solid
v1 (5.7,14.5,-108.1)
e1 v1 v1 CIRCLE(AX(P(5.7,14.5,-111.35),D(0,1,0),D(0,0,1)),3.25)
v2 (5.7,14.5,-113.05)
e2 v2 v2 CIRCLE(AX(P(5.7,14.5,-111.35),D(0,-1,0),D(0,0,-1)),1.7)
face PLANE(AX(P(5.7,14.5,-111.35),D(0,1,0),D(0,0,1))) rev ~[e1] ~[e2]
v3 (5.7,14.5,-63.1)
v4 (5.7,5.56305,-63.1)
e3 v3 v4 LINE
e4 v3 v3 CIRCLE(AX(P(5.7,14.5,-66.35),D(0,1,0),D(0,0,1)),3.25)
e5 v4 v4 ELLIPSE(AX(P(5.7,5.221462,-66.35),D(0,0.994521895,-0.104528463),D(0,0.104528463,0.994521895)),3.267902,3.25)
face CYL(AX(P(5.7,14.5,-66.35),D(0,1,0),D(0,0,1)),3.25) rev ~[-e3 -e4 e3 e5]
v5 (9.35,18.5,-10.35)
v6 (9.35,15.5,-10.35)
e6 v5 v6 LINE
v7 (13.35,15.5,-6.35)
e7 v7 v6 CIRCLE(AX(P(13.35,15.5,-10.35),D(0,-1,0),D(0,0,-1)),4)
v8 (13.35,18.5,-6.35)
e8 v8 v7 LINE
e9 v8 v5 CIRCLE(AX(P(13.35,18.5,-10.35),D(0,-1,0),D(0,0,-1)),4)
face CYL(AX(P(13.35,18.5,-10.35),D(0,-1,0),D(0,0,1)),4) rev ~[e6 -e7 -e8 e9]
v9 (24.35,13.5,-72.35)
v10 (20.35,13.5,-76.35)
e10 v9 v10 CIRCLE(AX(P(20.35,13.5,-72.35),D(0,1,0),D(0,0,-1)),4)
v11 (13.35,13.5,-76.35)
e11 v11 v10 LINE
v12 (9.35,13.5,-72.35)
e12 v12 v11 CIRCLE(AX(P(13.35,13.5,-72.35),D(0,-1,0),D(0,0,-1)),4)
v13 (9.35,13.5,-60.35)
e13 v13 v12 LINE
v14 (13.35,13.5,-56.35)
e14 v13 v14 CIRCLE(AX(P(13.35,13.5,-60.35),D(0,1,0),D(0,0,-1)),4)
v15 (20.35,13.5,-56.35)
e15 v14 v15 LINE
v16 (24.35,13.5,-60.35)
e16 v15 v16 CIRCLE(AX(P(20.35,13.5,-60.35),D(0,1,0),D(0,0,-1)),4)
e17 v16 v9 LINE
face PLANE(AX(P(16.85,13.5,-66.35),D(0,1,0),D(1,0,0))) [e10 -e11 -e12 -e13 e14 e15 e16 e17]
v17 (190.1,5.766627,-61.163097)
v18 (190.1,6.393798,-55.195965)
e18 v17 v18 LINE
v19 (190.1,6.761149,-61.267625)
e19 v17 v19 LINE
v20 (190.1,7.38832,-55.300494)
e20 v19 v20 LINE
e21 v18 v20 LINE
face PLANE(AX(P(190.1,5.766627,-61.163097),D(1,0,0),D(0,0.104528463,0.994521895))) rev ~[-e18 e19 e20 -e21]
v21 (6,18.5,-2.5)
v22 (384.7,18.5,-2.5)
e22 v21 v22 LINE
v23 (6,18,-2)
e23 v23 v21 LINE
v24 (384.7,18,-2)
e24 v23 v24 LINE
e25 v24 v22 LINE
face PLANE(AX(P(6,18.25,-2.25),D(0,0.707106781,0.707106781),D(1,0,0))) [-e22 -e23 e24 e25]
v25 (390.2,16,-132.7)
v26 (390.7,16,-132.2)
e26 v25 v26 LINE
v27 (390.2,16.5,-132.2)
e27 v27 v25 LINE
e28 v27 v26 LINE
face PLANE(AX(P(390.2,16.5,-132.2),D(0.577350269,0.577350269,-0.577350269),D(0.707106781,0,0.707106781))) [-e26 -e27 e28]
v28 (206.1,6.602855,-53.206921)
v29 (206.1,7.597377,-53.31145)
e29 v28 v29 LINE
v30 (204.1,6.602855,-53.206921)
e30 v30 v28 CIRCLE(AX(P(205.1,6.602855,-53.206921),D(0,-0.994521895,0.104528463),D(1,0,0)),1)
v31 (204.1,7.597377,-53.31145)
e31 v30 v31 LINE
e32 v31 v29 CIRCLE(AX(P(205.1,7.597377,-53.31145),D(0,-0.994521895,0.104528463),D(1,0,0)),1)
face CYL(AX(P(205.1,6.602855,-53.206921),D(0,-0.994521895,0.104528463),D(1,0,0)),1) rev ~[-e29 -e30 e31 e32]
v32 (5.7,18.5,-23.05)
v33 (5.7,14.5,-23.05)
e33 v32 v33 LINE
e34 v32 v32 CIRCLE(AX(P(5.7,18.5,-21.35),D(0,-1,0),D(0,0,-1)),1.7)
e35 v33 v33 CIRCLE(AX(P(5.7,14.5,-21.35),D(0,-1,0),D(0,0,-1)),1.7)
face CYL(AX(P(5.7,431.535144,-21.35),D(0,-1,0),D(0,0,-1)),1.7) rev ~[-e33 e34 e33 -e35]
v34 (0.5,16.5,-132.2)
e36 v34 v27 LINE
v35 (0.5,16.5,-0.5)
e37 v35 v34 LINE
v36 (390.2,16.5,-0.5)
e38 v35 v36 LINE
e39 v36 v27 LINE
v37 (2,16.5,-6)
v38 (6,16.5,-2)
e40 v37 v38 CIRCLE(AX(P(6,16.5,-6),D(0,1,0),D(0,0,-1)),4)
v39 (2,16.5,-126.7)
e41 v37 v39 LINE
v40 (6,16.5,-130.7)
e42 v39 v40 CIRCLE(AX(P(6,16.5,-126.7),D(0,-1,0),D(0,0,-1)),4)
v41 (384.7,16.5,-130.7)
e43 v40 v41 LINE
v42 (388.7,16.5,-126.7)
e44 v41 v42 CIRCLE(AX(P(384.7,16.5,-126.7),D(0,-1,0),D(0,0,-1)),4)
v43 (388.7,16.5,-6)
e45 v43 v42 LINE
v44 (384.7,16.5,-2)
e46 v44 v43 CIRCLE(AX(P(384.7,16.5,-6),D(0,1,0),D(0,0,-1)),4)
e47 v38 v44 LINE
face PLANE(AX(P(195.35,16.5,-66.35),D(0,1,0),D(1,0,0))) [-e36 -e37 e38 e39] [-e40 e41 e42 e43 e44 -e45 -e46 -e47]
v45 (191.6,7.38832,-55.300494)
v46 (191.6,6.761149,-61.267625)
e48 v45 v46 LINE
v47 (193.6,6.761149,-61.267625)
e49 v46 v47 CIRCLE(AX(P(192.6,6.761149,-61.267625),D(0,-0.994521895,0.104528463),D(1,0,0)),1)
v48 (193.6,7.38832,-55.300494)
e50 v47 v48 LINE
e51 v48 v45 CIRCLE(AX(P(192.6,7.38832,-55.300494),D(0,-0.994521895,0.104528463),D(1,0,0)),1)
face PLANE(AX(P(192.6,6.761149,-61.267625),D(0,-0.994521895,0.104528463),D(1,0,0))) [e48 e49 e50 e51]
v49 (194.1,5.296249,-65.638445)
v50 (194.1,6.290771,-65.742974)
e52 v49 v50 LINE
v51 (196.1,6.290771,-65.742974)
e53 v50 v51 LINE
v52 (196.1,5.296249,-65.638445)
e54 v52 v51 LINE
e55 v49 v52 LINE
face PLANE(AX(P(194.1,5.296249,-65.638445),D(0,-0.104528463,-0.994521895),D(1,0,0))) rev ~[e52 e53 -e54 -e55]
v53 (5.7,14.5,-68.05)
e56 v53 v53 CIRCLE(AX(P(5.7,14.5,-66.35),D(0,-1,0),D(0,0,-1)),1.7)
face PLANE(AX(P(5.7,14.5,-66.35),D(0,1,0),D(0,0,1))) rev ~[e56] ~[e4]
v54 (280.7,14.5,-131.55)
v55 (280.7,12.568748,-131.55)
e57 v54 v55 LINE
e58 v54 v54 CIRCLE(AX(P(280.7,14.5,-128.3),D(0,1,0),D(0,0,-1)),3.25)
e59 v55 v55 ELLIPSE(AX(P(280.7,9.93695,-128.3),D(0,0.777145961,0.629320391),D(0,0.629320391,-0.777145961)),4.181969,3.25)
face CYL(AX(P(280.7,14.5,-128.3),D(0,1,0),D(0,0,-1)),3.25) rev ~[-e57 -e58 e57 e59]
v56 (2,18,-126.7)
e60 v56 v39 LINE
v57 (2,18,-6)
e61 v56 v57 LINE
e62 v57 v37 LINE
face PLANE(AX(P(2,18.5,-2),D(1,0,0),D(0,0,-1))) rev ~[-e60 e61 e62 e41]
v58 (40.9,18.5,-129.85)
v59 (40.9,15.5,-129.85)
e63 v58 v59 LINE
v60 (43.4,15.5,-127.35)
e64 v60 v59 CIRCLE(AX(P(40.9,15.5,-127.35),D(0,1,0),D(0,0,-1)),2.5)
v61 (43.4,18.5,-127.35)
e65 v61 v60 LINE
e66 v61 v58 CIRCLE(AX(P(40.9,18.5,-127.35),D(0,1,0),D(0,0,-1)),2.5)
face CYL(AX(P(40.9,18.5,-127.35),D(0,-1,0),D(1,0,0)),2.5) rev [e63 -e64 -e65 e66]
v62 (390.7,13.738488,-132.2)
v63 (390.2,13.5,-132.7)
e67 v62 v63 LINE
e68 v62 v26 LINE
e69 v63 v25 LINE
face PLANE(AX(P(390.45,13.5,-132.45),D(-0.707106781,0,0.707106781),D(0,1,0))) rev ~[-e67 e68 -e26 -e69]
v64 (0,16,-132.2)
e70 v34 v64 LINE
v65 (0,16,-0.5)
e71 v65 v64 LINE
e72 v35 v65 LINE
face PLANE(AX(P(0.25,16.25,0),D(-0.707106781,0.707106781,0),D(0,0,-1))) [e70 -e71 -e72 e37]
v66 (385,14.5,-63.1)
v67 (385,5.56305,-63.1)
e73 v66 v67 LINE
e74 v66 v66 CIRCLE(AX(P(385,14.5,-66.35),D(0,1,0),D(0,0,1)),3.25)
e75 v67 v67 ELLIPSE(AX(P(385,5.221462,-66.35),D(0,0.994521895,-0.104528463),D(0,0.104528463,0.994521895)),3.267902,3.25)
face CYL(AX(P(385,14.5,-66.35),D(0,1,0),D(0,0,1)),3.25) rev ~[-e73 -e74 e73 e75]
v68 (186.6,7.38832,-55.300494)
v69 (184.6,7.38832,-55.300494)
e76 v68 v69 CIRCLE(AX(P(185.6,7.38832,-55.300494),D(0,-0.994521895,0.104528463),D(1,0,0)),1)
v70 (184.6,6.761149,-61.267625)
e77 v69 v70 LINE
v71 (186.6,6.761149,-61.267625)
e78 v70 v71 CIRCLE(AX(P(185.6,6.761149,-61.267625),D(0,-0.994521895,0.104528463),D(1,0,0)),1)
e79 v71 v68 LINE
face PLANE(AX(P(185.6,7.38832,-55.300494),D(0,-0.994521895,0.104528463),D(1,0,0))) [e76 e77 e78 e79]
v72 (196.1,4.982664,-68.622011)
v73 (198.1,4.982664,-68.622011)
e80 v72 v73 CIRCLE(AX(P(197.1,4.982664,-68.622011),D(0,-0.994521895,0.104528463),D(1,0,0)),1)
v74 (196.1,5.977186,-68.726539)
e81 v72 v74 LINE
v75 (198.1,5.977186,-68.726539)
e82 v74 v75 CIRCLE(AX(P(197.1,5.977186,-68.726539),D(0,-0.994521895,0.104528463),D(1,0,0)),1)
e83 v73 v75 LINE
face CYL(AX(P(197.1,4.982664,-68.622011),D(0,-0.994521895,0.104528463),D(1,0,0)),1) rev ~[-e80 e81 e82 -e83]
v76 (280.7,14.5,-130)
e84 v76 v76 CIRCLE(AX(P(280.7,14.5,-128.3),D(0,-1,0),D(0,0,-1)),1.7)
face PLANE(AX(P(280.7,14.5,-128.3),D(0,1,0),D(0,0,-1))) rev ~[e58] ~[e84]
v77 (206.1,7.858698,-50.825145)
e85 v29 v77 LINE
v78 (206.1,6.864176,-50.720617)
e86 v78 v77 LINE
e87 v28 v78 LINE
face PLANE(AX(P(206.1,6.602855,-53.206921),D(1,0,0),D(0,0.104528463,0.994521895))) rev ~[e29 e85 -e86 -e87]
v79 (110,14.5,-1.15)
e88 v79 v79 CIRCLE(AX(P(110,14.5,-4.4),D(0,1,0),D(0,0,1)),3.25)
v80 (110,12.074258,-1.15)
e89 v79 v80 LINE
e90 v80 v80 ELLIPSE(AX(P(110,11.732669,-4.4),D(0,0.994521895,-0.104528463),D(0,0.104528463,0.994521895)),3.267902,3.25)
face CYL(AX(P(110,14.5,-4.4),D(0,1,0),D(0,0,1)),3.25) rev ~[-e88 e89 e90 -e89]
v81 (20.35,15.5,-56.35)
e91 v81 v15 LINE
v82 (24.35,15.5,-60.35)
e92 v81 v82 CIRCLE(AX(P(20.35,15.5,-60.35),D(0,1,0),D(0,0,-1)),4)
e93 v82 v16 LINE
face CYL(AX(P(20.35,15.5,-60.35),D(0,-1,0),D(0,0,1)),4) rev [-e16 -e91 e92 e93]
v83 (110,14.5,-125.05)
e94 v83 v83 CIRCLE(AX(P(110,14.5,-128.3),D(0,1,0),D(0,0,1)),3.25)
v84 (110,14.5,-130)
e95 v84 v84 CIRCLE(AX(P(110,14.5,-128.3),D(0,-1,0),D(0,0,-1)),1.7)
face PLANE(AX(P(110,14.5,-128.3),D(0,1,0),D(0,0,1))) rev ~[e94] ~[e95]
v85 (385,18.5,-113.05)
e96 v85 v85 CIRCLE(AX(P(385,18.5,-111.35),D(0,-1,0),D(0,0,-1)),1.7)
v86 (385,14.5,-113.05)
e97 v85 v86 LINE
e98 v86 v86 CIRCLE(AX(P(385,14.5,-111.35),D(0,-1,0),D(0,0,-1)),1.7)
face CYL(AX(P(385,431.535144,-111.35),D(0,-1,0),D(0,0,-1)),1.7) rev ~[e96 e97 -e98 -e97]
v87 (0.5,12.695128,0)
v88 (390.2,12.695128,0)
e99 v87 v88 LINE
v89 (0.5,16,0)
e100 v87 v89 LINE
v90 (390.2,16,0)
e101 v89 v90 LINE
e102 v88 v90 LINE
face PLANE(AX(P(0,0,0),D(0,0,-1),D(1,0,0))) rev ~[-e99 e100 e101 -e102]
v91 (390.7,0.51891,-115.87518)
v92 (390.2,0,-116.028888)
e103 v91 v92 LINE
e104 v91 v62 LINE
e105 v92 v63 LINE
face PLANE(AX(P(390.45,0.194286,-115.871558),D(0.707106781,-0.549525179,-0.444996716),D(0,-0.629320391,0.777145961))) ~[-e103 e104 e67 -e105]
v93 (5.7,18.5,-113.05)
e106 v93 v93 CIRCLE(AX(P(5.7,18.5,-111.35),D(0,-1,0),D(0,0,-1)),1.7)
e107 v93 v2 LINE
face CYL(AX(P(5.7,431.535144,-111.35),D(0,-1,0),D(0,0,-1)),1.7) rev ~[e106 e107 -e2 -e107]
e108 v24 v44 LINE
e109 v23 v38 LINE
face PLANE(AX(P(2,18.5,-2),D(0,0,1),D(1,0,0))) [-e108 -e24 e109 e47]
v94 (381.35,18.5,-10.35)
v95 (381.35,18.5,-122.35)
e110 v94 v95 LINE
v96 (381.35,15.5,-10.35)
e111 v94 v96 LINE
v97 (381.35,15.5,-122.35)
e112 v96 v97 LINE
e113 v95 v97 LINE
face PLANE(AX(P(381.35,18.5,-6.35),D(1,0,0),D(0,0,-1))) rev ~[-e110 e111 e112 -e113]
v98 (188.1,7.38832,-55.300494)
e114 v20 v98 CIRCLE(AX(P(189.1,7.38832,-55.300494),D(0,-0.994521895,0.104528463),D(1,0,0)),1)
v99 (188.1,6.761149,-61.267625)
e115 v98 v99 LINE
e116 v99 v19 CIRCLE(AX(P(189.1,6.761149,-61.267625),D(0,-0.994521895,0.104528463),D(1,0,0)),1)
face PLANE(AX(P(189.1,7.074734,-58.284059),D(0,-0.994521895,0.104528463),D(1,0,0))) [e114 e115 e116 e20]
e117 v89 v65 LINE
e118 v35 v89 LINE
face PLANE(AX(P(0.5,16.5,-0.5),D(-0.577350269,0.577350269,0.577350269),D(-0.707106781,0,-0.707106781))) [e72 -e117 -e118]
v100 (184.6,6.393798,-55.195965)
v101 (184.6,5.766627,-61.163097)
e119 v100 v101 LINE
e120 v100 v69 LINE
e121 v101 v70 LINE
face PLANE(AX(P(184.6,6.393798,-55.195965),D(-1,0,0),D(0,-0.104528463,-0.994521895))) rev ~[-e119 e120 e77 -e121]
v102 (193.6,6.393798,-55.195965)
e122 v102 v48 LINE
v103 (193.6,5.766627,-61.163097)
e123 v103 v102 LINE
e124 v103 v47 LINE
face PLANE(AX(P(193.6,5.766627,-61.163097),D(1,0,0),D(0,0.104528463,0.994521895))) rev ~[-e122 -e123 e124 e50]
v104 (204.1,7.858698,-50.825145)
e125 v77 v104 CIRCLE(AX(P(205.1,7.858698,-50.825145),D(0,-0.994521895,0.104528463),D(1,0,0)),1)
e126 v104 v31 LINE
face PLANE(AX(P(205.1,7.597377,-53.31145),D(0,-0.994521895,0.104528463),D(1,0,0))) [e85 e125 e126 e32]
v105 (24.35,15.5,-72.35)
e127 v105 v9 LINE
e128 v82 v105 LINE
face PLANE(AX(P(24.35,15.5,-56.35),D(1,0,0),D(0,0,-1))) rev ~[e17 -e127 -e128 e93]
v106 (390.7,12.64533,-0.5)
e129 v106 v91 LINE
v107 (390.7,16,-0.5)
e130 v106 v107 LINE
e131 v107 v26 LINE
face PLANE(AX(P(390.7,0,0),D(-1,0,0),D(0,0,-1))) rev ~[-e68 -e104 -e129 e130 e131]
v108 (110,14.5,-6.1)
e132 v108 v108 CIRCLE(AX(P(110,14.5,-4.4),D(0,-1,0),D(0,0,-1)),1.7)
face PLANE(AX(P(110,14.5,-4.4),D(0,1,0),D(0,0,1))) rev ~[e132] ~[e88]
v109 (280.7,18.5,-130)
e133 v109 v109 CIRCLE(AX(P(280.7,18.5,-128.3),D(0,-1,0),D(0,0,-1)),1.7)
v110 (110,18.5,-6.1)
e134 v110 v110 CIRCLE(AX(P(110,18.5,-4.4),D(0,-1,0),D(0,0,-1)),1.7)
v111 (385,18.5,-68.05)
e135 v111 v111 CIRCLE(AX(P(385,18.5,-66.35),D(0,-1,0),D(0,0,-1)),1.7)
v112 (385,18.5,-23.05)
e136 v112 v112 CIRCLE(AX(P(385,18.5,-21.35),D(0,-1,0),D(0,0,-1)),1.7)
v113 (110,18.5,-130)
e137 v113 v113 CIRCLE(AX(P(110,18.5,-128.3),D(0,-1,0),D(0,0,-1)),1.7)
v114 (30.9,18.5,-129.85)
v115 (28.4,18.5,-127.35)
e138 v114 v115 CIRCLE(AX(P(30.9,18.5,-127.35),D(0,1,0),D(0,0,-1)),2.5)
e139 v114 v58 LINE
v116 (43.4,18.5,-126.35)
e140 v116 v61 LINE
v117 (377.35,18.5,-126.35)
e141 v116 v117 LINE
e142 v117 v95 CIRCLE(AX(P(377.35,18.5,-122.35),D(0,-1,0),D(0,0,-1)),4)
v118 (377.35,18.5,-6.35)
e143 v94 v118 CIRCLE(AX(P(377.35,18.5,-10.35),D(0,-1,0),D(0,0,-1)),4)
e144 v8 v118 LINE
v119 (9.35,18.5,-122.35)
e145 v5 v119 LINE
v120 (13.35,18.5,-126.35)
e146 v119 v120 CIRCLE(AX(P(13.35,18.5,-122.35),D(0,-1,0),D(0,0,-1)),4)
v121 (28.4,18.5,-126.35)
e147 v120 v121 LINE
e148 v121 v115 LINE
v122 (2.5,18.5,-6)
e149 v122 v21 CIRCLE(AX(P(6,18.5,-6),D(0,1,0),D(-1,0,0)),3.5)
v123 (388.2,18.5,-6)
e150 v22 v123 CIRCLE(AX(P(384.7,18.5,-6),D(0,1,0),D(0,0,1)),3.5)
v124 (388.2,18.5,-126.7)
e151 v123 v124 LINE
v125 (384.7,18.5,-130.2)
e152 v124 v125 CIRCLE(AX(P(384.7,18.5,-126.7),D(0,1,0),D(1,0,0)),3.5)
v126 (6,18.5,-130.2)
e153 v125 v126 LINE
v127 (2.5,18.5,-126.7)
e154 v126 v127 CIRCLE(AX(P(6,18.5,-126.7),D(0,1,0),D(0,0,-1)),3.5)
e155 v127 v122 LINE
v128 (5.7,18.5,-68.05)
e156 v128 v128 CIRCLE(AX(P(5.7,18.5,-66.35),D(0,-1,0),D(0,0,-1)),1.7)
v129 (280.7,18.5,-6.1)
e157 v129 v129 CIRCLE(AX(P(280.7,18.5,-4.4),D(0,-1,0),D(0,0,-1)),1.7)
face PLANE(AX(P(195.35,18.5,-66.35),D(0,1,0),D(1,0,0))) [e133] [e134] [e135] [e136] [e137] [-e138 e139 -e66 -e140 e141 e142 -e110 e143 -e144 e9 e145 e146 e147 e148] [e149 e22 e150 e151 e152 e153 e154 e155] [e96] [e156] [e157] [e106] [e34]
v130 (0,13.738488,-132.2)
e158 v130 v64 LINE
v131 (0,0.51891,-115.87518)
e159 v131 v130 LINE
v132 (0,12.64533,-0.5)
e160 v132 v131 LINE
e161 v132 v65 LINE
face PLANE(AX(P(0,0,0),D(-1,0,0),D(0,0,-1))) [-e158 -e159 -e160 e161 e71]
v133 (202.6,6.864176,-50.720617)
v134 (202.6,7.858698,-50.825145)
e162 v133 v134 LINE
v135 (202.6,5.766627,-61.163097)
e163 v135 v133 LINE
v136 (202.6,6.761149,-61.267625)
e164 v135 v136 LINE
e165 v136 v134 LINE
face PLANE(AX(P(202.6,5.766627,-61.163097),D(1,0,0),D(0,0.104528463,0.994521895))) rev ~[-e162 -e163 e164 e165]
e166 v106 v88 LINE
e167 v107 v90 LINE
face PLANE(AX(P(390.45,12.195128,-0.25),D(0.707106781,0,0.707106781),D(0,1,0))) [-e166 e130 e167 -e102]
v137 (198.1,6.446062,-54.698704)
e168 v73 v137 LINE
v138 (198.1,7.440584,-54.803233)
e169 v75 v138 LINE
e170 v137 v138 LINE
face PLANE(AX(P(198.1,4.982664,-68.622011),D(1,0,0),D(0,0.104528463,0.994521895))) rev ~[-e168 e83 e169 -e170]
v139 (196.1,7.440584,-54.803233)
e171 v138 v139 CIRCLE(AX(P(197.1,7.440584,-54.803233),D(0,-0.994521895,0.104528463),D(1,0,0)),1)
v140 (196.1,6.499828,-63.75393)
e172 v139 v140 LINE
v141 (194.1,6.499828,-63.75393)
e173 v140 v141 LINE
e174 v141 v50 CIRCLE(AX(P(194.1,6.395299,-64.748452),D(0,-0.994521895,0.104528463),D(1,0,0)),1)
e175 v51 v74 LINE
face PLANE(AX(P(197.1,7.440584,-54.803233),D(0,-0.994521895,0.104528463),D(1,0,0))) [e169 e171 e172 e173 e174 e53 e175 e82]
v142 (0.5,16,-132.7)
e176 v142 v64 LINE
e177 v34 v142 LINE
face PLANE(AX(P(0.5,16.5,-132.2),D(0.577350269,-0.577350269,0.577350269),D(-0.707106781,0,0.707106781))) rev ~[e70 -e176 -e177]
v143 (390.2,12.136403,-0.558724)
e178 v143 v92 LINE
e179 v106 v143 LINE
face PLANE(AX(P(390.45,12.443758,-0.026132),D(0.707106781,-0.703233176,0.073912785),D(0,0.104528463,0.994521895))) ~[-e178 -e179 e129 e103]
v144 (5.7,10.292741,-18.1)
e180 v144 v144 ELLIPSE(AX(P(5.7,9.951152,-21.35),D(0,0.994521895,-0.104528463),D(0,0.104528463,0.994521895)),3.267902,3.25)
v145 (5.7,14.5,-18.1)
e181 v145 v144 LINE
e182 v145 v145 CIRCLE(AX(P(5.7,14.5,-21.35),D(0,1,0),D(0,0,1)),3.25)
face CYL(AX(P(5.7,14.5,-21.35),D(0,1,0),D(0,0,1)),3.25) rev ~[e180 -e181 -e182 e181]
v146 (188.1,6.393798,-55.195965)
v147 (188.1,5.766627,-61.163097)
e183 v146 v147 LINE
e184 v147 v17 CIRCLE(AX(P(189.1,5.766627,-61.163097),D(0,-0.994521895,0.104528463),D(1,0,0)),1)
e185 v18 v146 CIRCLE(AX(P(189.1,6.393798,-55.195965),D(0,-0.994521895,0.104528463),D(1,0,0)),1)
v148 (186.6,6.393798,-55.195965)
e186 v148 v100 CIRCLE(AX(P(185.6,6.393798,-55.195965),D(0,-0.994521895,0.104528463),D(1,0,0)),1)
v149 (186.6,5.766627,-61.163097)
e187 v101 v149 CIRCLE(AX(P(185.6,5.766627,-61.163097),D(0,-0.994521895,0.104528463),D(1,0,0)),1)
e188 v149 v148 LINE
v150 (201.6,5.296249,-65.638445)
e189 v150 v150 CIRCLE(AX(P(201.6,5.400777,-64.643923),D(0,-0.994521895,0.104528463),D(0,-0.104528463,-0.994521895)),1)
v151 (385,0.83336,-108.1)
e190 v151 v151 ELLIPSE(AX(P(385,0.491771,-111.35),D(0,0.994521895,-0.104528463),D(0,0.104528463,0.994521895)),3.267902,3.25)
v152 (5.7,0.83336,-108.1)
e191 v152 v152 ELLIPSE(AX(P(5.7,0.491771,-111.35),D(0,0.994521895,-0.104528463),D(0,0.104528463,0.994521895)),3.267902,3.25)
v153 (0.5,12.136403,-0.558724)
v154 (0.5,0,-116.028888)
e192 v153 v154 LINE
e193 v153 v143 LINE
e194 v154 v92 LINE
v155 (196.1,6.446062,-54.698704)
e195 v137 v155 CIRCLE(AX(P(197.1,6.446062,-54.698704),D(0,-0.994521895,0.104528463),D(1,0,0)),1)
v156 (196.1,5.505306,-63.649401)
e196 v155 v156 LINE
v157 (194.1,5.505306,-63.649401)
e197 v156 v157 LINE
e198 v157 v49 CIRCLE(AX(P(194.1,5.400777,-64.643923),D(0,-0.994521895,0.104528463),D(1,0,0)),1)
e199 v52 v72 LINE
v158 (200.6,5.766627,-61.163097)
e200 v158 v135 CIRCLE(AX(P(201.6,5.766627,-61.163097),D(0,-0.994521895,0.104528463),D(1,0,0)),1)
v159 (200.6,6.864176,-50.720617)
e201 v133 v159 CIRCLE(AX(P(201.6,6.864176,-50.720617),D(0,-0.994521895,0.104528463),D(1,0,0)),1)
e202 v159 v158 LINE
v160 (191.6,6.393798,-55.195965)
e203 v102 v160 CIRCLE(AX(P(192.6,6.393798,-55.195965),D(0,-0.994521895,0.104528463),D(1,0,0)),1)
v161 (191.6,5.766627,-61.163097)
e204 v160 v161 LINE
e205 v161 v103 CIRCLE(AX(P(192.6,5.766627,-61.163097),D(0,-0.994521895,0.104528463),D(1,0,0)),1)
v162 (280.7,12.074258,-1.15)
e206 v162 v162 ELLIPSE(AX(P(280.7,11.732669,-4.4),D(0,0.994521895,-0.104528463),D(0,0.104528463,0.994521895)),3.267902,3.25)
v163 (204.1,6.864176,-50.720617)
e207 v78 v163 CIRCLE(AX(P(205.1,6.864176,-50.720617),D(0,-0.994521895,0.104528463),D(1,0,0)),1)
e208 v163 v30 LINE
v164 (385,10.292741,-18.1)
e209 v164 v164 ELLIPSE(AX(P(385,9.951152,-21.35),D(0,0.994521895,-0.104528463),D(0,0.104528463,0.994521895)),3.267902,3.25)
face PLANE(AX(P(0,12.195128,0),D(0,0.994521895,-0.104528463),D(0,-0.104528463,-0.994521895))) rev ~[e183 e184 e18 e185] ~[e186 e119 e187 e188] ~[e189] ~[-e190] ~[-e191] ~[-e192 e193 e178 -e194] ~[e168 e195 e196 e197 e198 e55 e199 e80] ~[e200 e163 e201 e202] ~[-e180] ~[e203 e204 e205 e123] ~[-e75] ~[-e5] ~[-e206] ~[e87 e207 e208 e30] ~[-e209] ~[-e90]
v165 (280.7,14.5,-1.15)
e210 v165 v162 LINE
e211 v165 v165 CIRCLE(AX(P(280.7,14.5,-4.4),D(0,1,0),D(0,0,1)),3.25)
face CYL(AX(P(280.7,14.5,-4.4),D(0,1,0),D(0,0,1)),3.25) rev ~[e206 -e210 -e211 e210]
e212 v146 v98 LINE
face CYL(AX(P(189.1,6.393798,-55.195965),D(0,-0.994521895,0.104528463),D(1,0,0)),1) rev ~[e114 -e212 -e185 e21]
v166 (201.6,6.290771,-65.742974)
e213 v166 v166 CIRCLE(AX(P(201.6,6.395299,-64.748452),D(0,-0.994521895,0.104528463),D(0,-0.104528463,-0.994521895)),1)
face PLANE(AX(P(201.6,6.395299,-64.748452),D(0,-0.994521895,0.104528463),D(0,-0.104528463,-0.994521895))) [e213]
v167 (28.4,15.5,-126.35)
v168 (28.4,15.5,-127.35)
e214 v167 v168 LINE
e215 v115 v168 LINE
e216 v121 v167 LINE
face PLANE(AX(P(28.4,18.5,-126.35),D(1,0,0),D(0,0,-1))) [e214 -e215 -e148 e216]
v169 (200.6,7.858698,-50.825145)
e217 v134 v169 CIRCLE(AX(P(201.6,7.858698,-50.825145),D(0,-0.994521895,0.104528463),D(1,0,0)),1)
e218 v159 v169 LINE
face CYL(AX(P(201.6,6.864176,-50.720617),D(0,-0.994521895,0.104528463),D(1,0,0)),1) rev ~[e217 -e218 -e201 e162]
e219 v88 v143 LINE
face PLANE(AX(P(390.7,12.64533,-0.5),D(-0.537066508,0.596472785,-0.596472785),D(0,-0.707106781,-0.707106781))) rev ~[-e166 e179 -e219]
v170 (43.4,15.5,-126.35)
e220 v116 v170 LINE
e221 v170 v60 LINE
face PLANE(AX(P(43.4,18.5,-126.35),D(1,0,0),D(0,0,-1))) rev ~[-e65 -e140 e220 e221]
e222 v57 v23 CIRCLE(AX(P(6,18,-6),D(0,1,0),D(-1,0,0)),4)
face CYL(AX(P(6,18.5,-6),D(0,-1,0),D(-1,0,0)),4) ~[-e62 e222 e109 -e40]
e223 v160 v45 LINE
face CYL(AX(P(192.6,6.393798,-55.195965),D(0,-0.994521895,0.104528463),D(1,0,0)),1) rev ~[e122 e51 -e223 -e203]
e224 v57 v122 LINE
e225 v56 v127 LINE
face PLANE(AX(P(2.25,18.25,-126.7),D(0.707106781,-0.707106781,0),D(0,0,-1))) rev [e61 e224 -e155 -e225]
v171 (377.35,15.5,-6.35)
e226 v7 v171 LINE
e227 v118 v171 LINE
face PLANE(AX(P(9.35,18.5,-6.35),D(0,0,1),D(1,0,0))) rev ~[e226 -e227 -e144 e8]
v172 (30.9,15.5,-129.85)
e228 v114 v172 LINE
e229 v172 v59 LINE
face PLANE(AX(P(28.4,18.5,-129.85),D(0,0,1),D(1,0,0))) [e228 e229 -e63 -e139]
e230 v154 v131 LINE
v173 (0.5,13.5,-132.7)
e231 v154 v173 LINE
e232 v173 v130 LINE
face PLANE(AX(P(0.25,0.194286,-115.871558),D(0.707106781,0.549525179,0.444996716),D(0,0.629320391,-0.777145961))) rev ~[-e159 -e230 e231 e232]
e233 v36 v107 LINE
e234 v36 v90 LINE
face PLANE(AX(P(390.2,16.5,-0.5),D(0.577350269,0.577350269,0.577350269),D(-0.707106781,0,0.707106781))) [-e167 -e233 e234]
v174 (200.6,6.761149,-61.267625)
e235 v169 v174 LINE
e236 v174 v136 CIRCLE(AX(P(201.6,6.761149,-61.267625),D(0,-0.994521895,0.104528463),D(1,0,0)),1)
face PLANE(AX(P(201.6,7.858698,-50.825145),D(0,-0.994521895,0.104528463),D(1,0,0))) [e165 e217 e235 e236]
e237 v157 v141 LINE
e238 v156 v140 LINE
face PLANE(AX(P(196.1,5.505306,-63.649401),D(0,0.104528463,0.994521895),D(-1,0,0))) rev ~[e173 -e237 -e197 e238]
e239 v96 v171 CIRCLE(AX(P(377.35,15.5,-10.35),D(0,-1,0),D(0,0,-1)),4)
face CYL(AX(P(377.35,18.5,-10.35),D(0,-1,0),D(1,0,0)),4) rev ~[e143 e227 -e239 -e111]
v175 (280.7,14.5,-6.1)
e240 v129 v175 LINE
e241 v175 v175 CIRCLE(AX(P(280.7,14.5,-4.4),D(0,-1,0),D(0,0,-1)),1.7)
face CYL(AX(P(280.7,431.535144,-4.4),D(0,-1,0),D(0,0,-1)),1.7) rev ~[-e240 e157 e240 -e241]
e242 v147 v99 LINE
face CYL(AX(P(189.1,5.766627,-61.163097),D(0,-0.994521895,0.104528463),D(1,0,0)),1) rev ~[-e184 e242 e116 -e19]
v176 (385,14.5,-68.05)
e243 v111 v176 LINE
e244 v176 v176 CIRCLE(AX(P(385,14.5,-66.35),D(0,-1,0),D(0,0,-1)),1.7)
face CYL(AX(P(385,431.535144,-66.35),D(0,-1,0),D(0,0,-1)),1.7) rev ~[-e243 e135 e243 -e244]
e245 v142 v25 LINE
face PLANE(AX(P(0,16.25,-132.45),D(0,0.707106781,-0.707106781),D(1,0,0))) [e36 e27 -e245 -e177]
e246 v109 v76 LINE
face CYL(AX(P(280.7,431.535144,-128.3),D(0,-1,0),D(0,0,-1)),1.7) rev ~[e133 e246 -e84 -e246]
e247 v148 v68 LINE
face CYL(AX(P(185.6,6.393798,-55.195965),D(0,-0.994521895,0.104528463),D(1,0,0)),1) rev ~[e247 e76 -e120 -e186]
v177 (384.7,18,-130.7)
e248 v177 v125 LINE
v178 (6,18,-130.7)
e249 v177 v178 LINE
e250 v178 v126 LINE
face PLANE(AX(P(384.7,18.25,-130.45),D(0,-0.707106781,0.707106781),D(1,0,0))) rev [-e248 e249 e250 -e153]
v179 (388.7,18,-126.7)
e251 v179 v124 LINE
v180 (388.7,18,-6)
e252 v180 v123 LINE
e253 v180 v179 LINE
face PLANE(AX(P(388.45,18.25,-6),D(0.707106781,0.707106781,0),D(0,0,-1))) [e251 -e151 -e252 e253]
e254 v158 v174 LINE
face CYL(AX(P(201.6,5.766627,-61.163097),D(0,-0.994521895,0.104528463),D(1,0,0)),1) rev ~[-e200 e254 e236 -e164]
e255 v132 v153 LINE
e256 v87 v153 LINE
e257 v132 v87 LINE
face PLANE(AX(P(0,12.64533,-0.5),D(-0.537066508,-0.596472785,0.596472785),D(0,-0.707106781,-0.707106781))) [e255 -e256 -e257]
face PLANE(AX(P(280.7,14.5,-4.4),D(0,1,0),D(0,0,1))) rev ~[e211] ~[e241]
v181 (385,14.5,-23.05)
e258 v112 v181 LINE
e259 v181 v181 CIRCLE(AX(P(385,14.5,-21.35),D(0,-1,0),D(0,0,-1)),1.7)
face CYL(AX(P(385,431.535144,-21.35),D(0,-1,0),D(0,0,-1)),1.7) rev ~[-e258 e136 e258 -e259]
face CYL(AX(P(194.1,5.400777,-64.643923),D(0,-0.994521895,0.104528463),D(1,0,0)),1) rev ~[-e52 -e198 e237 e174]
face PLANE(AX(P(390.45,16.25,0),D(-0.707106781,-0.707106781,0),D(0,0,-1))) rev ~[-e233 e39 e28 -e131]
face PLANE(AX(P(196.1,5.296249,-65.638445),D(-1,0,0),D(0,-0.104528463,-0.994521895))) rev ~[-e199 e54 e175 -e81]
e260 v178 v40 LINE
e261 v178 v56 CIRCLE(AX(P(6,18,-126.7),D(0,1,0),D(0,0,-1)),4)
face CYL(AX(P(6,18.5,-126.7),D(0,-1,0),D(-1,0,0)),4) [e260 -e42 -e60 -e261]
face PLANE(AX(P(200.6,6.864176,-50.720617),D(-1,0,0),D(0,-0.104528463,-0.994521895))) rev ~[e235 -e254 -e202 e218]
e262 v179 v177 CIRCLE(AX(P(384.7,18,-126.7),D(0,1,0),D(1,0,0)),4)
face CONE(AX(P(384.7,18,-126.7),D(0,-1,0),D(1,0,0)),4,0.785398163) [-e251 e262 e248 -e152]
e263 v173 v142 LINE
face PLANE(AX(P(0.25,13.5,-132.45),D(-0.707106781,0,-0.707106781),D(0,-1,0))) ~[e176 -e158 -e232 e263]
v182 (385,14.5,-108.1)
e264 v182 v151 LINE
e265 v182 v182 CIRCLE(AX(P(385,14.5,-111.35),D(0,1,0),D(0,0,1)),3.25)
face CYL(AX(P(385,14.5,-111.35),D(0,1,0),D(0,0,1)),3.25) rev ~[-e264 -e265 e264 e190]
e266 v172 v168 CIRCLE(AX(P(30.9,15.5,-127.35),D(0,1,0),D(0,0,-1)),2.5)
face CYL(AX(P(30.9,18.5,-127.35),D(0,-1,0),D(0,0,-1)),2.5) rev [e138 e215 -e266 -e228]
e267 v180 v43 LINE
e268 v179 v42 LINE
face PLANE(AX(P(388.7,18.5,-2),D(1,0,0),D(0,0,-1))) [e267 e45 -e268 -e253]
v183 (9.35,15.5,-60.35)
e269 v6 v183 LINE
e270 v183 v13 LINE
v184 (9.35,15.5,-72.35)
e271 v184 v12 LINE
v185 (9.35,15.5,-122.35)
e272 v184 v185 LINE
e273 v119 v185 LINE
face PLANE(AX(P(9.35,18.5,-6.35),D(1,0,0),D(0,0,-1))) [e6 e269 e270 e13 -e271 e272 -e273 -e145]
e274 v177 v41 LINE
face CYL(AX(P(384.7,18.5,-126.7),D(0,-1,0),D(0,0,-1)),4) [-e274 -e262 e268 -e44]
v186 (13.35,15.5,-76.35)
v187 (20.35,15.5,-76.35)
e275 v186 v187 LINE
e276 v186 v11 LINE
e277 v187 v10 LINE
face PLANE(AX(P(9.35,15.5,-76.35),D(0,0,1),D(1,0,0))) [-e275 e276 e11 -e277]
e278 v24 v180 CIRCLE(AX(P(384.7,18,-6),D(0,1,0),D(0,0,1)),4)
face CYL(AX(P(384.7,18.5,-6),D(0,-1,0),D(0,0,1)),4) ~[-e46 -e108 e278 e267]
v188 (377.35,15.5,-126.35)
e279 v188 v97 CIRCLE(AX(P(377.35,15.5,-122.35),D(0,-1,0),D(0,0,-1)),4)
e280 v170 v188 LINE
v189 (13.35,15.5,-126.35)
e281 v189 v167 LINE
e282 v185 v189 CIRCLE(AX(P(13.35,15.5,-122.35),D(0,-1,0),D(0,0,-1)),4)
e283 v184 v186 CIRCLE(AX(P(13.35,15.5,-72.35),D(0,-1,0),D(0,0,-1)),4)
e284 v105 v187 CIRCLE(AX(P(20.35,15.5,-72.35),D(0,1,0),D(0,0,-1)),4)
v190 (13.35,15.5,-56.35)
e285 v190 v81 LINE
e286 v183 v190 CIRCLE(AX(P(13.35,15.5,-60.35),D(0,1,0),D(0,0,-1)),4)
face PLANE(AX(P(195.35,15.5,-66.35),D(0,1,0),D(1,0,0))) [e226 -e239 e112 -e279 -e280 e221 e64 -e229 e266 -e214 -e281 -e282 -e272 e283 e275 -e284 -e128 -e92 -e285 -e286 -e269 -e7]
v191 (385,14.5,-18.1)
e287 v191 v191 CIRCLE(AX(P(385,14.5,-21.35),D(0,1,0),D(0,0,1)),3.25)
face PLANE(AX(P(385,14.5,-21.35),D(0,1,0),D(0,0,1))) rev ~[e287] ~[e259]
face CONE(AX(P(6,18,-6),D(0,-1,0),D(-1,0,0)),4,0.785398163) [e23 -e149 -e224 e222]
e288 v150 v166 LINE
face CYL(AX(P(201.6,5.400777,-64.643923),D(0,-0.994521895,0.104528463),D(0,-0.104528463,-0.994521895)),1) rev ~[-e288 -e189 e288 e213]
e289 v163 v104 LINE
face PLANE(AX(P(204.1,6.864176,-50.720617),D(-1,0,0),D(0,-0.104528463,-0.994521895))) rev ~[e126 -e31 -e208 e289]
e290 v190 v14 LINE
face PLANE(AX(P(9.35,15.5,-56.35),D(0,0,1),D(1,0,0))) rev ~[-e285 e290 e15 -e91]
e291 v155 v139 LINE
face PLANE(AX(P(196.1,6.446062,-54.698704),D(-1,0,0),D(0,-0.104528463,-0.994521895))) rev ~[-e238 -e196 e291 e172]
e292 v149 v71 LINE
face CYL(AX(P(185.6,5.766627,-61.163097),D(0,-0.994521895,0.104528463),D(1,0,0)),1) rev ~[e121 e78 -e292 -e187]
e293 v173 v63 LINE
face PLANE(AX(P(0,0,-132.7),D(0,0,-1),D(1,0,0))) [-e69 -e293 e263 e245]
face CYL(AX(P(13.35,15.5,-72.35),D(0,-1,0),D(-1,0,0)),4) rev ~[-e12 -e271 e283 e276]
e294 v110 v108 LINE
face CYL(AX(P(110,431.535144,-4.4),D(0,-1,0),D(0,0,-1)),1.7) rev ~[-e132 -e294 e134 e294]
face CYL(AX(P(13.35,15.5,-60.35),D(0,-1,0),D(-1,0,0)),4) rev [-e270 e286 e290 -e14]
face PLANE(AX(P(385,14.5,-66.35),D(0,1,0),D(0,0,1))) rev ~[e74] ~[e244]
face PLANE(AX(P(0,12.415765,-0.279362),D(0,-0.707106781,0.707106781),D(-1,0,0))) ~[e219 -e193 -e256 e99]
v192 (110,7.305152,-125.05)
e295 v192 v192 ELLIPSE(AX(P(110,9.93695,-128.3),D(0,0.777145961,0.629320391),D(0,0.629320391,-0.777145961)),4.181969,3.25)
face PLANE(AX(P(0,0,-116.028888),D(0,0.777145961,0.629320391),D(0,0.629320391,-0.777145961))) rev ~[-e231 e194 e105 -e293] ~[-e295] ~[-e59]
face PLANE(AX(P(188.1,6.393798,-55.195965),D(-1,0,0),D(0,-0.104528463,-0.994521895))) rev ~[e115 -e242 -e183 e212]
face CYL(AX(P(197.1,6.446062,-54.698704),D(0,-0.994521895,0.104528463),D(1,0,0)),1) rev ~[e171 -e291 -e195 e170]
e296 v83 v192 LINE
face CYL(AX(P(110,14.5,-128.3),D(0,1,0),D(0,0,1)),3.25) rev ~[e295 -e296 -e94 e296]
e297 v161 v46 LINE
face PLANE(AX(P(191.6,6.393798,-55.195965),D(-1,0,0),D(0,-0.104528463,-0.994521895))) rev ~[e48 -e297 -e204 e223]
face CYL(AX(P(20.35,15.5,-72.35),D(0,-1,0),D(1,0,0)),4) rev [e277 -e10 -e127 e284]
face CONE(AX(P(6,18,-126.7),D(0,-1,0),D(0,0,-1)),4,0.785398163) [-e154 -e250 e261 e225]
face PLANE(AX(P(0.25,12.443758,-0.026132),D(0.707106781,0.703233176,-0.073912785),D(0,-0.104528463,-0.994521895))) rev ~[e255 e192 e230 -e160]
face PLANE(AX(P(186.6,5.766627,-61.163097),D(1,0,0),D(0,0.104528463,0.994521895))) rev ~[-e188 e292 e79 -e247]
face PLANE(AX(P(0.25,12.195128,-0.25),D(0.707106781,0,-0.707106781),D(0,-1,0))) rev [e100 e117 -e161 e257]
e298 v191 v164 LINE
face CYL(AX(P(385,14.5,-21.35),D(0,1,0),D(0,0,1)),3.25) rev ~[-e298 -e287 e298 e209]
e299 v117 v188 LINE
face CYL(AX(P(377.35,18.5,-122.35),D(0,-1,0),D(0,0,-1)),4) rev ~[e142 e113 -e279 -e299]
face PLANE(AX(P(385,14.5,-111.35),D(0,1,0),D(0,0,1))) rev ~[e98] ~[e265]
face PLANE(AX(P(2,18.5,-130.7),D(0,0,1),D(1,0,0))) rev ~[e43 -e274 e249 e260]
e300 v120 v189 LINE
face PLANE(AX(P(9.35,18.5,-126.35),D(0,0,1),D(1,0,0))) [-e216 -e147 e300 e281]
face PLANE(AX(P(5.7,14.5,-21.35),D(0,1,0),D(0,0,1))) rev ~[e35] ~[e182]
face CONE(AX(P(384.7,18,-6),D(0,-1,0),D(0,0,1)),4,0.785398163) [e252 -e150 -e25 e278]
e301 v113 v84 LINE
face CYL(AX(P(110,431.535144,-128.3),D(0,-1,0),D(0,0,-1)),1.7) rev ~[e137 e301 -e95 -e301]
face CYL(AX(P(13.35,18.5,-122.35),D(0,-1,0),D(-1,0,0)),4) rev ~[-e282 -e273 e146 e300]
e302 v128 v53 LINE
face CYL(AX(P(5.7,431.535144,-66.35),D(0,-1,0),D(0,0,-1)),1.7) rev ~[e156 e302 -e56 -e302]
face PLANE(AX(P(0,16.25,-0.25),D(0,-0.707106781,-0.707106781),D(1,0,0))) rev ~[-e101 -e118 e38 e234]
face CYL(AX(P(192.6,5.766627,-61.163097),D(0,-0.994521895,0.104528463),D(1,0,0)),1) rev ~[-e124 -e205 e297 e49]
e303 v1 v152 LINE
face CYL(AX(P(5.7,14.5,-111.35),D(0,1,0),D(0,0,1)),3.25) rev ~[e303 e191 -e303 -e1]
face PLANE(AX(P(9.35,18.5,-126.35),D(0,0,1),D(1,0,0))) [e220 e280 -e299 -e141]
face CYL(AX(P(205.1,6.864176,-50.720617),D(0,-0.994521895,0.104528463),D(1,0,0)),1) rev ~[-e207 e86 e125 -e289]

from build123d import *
from OCP.BRepFilletAPI import BRepFilletAPI_MakeChamfer

# Parameters (mm, degrees)
SKETCH1_W            = 390.7
SKETCH1_H            = 132.7
MAINBODY_DEPTH       = 18.5
SKETCH2_W            = 390.7
SKETCH2_H            = 132.7
SKETCH2_W_2          = 386.7
SKETCH2_H_2          = 128.7
ALIGMENTLIP_DEPTH    = 2
TYPINGANGLE_DEPTH    = 414.035143783
SKETCH4_W            = 372
SKETCH4_H            = 120
PCBCUTOUT_DEPTH      = 3
M3_CLEARANCE_HOLE1_D = 3.4
CUT_EXTRUDE2_START   = -1
SKETCH11_R           = 3.25
CUT_EXTRUDE2_DEPTH   = 412.911649145
SKETCH12_W           = 15
SKETCH12_H           = 3.5
CUT_EXTRUDE3_DEPTH   = 3
FILLET1_R            = 2.5
SKETCH13_W           = 15
SKETCH13_H           = 20
CUT_EXTRUDE4_DEPTH   = 2
FILLET2_R            = 4
CHAMFER1_SIZE        = 0.5
CHAMFER1_SIZE2       = 0.561801899
CHAMFER2_SIZE        = 0.5
SKETCH17_R           = 1
SKETCH17_W           = 2
SKETCH17_H           = 2
CUT_EXTRUDE5_DEPTH   = 1


with BuildPart() as part:
    # Sketch1 → MainBody (new body)
    with BuildSketch(Plane(origin=(0, 0, 0), x_dir=(1, 0, 0), z_dir=(0, 1, 0))):
        with Locations((195.35, 66.35)):
            Rectangle(SKETCH1_W, SKETCH1_H)
    extrude(amount=MAINBODY_DEPTH)

    # Sketch2 → AligmentLip (cut)
    with BuildSketch(Plane(origin=(0, 18.5, 0), x_dir=(1, 0, 0), z_dir=(0, 1, 0))):
        with Locations((195.35, 66.35)):
            Rectangle(SKETCH2_W, SKETCH2_H)
        with Locations((195.35, 66.35)):
            Rectangle(SKETCH2_W_2, SKETCH2_H_2, mode=Mode.SUBTRACT)
    extrude(amount=-ALIGMENTLIP_DEPTH, mode=Mode.SUBTRACT)

    # Sketch3 → TypingAngle (cut, through all)
    with BuildSketch(Plane.ZY):
        Polygon((-116.028888387, 0), (-132.7, 13.5), (-132.7, 0), align=None)
        Polygon((0, 12.195127583), (-116.028888387, 0), (0, 0), align=None)
    extrude(amount=-TYPINGANGLE_DEPTH, mode=Mode.SUBTRACT)

    # Sketch4 → PCBCutout (cut)
    with BuildSketch(Plane(origin=(0, 18.5, 0), x_dir=(1, 0, 0), z_dir=(0, 1, 0))):
        with Locations((195.35, 66.35)):
            Rectangle(SKETCH4_W, SKETCH4_H)
    extrude(amount=-PCBCUTOUT_DEPTH, mode=Mode.SUBTRACT)

    # M3 Clearance Hole1 (through all)
    with Locations(Plane(origin=(110, 18.5, -128.3), x_dir=(0, 0, 1), z_dir=(0, 1, 0))):
        with Locations((0, 0), (16.95, -104.3), (61.95, -104.3), (106.95, -104.3), (123.9, 0), (0, 170.7), (123.9, 170.7), (106.95, 275), (61.95, 275), (16.95, 275)):
            Hole(M3_CLEARANCE_HOLE1_D / 2)

    # Sketch11 → Cut-Extrude2 (cut, through all)
    with BuildSketch(Plane(origin=(0, 15.5, 0), x_dir=(1, 0, 0), z_dir=(0, 1, 0)).offset(CUT_EXTRUDE2_START)):
        with Locations(Location((110, 128.3, 0), (0, 0, 270))):
            Circle(SKETCH11_R)
        with Locations(Location((5.7, 111.35, 0), (0, 0, 270))):
            Circle(SKETCH11_R)
        with Locations(Location((5.7, 66.35, 0), (0, 0, 270))):
            Circle(SKETCH11_R)
        with Locations(Location((5.7, 21.35, 0), (0, 0, 270))):
            Circle(SKETCH11_R)
        with Locations(Location((110, 4.4, 0), (0, 0, 270))):
            Circle(SKETCH11_R)
        with Locations(Location((280.7, 4.4, 0), (0, 0, 270))):
            Circle(SKETCH11_R)
        with Locations(Location((385, 21.35, 0), (0, 0, 270))):
            Circle(SKETCH11_R)
        with Locations(Location((385, 66.35, 0), (0, 0, 270))):
            Circle(SKETCH11_R)
        with Locations(Location((385, 111.35, 0), (0, 0, 270))):
            Circle(SKETCH11_R)
        with Locations(Location((280.7, 128.3, 0), (0, 0, 90))):
            Circle(SKETCH11_R)
    extrude(amount=-CUT_EXTRUDE2_DEPTH, mode=Mode.SUBTRACT)

    # Sketch12 → Cut-Extrude3 (cut)
    with BuildSketch(Plane(origin=(0, 18.5, 0), x_dir=(1, 0, 0), z_dir=(0, 1, 0))):
        with Locations((35.9, 128.1)):
            Rectangle(SKETCH12_W, SKETCH12_H)
    extrude(amount=-CUT_EXTRUDE3_DEPTH, mode=Mode.SUBTRACT)

    # Fillet1
    fillet1_edges = [part.edges().sort_by_distance(p)[0] for p in [
        (28.4, 17, -129.85),
        (43.4, 17, -129.85),
    ]]
    fillet(fillet1_edges, radius=FILLET1_R)

    # Sketch13 → Cut-Extrude4 (cut)
    with BuildSketch(Plane(origin=(0, 15.5, 0), x_dir=(1, 0, 0), z_dir=(0, 1, 0))):
        with Locations((16.85, 66.35)):
            Rectangle(SKETCH13_W, SKETCH13_H)
    extrude(amount=-CUT_EXTRUDE4_DEPTH, mode=Mode.SUBTRACT)

    # Fillet2
    fillet2_edges = [part.edges().sort_by_distance(p)[0] for p in [
        (388.7, 17.5, -130.7),
        (2, 17.5, -130.7),
        (2, 17.5, -2),
        (388.7, 17.5, -2),
        (9.35, 14.5, -56.35),
        (9.35, 14.5, -76.35),
        (24.35, 14.5, -76.35),
        (24.35, 14.5, -56.35),
        (9.35, 17, -6.35),
        (9.35, 17, -126.35),
        (381.35, 17, -126.35),
        (381.35, 17, -6.35),
    ]]
    fillet(fillet2_edges, radius=FILLET2_R)

    # Chamfer1: one chamfer whose edges measure the first distance from different faces: ONE call of the kernel's chamfer builder (chamfer() names one face for all edges)
    chamfer1_edges_1 = [part.edges().sort_by_distance(p)[0] for p in [
        (0, 15, -132.7),
        (390.7, 15, -132.7),
        (390.7, 14.347563791, 0),
        (0, 14.347563791, 0),
        (195.35, 16.5, -132.7),
        (390.7, 16.5, -66.35),
        (195.35, 16.5, 0),
        (0, 16.5, -66.35),
        (0, 6.75, -124.364444193),
        (390.7, 6.75, -124.364444193),
        (0, 6.097563791, -58.014444193),
        (390.7, 6.097563791, -58.014444193),
    ]]
    chamfer1_edges_2 = [part.edges().sort_by_distance(p)[0] for p in [
        (195.35, 12.195127583, 0),
    ]]
    chamfer1_side_2 = [part.faces().sort_by_distance(p)[0] for p in [
        (195.35, 14.347563791, 0),
    ]]
    chamfer1 = BRepFilletAPI_MakeChamfer(part.part.solid().wrapped)
    for e in chamfer1_edges_1:
        chamfer1.Add(CHAMFER1_SIZE, e.wrapped)
    for e in chamfer1_edges_2:
        chamfer1.Add(CHAMFER1_SIZE, CHAMFER1_SIZE2, e.wrapped, chamfer1_side_2[0].wrapped)  # the first distance lies on this face
    add(Compound.cast(chamfer1.Shape()), mode=Mode.REPLACE)

    # Chamfer2
    chamfer2_edges = [part.edges().sort_by_distance(p)[0] for p in [
        (388.7, 18.5, -66.35),
        (195.35, 18.5, -130.7),
        (2, 18.5, -66.35),
        (195.35, 18.5, -2),
        (3.171572875, 18.5, -129.528427125),
        (3.171572875, 18.5, -3.171572875),
        (387.528427125, 18.5, -3.171572875),
        (387.528427125, 18.5, -129.528427125),
    ]]
    chamfer(chamfer2_edges, length=CHAMFER2_SIZE)

    # Sketch17 → Cut-Extrude5 (cut)
    with BuildSketch(Plane(origin=(0, 12.061881184, -1.267754798), x_dir=(1, 0, 0), z_dir=(0, -0.9945218953682734, 0.10452846326765429))):
        with Locations((205.1, -52.225262054)):
            Circle(SKETCH17_R)
        with BuildLine():
            ThreePointArc((204.1, -52.225262054), (205.1, -51.225262054), (206.1, -52.225262054))
            Line((206.1, -52.225262054), (206.1, -49.725262054))
            ThreePointArc((206.1, -49.725262054), (205.1, -50.725262054), (204.1, -49.725262054))
            Line((204.1, -49.725262054), (204.1, -52.225262054))
        make_face()
        with Locations((205.1, -49.725262054)):
            Circle(SKETCH17_R)
        with Locations((201.6, -49.725262054)):
            Circle(SKETCH17_R)
        with BuildLine():
            ThreePointArc((200.6, -60.225262054), (201.6, -59.225262054), (202.6, -60.225262054))
            Line((202.6, -60.225262054), (202.6, -49.725262054))
            ThreePointArc((202.6, -49.725262054), (201.6, -50.725262054), (200.6, -49.725262054))
            Line((200.6, -49.725262054), (200.6, -60.225262054))
        make_face()
        with Locations((201.6, -60.225262054)):
            Circle(SKETCH17_R)
        with Locations((197.1, -53.725262054)):
            Circle(SKETCH17_R)
        with BuildLine():
            Line((196.1, -62.725262054), (198.1, -62.725262054))
            Line((198.1, -62.725262054), (198.1, -53.725262054))
            ThreePointArc((198.1, -53.725262054), (197.1, -54.725262054), (196.1, -53.725262054))
            Line((196.1, -53.725262054), (196.1, -62.725262054))
        make_face()
        with Locations((197.1, -63.725262054)):
            Rectangle(SKETCH17_W, SKETCH17_H)
        with BuildLine():
            ThreePointArc((196.1, -67.725262054), (197.1, -66.725262054), (198.1, -67.725262054))
            Line((198.1, -67.725262054), (198.1, -64.725262054))
            Line((198.1, -64.725262054), (196.1, -64.725262054))
            Line((196.1, -64.725262054), (196.1, -67.725262054))
        make_face()
        with Locations((197.1, -67.725262054)):
            Circle(SKETCH17_R)
        with BuildLine():
            Line((194.1, -64.725262054), (196.1, -64.725262054))
            Line((196.1, -64.725262054), (196.1, -62.725262054))
            Line((196.1, -62.725262054), (194.1, -62.725262054))
            ThreePointArc((194.1, -62.725262054), (194.807106781, -63.018155273), (195.1, -63.725262054))
            ThreePointArc((195.1, -63.725262054), (194.807106781, -64.432368836), (194.1, -64.725262054))
        make_face()
        with Locations((194.1, -63.725262054)):
            Circle(SKETCH17_R)
        with Locations(Location((201.6, -63.725262054, 0), (0, 0, 270))):
            Circle(SKETCH17_R)
        with Locations((192.6, -60.225262054)):
            Circle(SKETCH17_R)
        with BuildLine():
            ThreePointArc((191.6, -60.225262054), (192.6, -59.225262054), (193.6, -60.225262054))
            Line((193.6, -60.225262054), (193.6, -54.225262054))
            ThreePointArc((193.6, -54.225262054), (192.6, -55.225262054), (191.6, -54.225262054))
            Line((191.6, -54.225262054), (191.6, -60.225262054))
        make_face()
        with Locations((192.6, -54.225262054)):
            Circle(SKETCH17_R)
        with BuildLine():
            ThreePointArc((188.1, -60.225262054), (189.1, -59.225262054), (190.1, -60.225262054))
            Line((190.1, -60.225262054), (190.1, -54.225262054))
            ThreePointArc((190.1, -54.225262054), (189.1, -55.225262054), (188.1, -54.225262054))
            Line((188.1, -54.225262054), (188.1, -60.225262054))
        make_face()
        with Locations((189.1, -60.225262054)):
            Circle(SKETCH17_R)
        with Locations((189.1, -54.225262054)):
            Circle(SKETCH17_R)
        with Locations((185.6, -54.225262054)):
            Circle(SKETCH17_R)
        with BuildLine():
            ThreePointArc((184.6, -60.225262054), (185.6, -59.225262054), (186.6, -60.225262054))
            Line((186.6, -60.225262054), (186.6, -54.225262054))
            ThreePointArc((186.6, -54.225262054), (185.6, -55.225262054), (184.6, -54.225262054))
            Line((184.6, -54.225262054), (184.6, -60.225262054))
        make_face()
        with Locations((185.6, -60.225262054)):
            Circle(SKETCH17_R)
    extrude(amount=-CUT_EXTRUDE5_DEPTH, mode=Mode.SUBTRACT)


solid = part.part
